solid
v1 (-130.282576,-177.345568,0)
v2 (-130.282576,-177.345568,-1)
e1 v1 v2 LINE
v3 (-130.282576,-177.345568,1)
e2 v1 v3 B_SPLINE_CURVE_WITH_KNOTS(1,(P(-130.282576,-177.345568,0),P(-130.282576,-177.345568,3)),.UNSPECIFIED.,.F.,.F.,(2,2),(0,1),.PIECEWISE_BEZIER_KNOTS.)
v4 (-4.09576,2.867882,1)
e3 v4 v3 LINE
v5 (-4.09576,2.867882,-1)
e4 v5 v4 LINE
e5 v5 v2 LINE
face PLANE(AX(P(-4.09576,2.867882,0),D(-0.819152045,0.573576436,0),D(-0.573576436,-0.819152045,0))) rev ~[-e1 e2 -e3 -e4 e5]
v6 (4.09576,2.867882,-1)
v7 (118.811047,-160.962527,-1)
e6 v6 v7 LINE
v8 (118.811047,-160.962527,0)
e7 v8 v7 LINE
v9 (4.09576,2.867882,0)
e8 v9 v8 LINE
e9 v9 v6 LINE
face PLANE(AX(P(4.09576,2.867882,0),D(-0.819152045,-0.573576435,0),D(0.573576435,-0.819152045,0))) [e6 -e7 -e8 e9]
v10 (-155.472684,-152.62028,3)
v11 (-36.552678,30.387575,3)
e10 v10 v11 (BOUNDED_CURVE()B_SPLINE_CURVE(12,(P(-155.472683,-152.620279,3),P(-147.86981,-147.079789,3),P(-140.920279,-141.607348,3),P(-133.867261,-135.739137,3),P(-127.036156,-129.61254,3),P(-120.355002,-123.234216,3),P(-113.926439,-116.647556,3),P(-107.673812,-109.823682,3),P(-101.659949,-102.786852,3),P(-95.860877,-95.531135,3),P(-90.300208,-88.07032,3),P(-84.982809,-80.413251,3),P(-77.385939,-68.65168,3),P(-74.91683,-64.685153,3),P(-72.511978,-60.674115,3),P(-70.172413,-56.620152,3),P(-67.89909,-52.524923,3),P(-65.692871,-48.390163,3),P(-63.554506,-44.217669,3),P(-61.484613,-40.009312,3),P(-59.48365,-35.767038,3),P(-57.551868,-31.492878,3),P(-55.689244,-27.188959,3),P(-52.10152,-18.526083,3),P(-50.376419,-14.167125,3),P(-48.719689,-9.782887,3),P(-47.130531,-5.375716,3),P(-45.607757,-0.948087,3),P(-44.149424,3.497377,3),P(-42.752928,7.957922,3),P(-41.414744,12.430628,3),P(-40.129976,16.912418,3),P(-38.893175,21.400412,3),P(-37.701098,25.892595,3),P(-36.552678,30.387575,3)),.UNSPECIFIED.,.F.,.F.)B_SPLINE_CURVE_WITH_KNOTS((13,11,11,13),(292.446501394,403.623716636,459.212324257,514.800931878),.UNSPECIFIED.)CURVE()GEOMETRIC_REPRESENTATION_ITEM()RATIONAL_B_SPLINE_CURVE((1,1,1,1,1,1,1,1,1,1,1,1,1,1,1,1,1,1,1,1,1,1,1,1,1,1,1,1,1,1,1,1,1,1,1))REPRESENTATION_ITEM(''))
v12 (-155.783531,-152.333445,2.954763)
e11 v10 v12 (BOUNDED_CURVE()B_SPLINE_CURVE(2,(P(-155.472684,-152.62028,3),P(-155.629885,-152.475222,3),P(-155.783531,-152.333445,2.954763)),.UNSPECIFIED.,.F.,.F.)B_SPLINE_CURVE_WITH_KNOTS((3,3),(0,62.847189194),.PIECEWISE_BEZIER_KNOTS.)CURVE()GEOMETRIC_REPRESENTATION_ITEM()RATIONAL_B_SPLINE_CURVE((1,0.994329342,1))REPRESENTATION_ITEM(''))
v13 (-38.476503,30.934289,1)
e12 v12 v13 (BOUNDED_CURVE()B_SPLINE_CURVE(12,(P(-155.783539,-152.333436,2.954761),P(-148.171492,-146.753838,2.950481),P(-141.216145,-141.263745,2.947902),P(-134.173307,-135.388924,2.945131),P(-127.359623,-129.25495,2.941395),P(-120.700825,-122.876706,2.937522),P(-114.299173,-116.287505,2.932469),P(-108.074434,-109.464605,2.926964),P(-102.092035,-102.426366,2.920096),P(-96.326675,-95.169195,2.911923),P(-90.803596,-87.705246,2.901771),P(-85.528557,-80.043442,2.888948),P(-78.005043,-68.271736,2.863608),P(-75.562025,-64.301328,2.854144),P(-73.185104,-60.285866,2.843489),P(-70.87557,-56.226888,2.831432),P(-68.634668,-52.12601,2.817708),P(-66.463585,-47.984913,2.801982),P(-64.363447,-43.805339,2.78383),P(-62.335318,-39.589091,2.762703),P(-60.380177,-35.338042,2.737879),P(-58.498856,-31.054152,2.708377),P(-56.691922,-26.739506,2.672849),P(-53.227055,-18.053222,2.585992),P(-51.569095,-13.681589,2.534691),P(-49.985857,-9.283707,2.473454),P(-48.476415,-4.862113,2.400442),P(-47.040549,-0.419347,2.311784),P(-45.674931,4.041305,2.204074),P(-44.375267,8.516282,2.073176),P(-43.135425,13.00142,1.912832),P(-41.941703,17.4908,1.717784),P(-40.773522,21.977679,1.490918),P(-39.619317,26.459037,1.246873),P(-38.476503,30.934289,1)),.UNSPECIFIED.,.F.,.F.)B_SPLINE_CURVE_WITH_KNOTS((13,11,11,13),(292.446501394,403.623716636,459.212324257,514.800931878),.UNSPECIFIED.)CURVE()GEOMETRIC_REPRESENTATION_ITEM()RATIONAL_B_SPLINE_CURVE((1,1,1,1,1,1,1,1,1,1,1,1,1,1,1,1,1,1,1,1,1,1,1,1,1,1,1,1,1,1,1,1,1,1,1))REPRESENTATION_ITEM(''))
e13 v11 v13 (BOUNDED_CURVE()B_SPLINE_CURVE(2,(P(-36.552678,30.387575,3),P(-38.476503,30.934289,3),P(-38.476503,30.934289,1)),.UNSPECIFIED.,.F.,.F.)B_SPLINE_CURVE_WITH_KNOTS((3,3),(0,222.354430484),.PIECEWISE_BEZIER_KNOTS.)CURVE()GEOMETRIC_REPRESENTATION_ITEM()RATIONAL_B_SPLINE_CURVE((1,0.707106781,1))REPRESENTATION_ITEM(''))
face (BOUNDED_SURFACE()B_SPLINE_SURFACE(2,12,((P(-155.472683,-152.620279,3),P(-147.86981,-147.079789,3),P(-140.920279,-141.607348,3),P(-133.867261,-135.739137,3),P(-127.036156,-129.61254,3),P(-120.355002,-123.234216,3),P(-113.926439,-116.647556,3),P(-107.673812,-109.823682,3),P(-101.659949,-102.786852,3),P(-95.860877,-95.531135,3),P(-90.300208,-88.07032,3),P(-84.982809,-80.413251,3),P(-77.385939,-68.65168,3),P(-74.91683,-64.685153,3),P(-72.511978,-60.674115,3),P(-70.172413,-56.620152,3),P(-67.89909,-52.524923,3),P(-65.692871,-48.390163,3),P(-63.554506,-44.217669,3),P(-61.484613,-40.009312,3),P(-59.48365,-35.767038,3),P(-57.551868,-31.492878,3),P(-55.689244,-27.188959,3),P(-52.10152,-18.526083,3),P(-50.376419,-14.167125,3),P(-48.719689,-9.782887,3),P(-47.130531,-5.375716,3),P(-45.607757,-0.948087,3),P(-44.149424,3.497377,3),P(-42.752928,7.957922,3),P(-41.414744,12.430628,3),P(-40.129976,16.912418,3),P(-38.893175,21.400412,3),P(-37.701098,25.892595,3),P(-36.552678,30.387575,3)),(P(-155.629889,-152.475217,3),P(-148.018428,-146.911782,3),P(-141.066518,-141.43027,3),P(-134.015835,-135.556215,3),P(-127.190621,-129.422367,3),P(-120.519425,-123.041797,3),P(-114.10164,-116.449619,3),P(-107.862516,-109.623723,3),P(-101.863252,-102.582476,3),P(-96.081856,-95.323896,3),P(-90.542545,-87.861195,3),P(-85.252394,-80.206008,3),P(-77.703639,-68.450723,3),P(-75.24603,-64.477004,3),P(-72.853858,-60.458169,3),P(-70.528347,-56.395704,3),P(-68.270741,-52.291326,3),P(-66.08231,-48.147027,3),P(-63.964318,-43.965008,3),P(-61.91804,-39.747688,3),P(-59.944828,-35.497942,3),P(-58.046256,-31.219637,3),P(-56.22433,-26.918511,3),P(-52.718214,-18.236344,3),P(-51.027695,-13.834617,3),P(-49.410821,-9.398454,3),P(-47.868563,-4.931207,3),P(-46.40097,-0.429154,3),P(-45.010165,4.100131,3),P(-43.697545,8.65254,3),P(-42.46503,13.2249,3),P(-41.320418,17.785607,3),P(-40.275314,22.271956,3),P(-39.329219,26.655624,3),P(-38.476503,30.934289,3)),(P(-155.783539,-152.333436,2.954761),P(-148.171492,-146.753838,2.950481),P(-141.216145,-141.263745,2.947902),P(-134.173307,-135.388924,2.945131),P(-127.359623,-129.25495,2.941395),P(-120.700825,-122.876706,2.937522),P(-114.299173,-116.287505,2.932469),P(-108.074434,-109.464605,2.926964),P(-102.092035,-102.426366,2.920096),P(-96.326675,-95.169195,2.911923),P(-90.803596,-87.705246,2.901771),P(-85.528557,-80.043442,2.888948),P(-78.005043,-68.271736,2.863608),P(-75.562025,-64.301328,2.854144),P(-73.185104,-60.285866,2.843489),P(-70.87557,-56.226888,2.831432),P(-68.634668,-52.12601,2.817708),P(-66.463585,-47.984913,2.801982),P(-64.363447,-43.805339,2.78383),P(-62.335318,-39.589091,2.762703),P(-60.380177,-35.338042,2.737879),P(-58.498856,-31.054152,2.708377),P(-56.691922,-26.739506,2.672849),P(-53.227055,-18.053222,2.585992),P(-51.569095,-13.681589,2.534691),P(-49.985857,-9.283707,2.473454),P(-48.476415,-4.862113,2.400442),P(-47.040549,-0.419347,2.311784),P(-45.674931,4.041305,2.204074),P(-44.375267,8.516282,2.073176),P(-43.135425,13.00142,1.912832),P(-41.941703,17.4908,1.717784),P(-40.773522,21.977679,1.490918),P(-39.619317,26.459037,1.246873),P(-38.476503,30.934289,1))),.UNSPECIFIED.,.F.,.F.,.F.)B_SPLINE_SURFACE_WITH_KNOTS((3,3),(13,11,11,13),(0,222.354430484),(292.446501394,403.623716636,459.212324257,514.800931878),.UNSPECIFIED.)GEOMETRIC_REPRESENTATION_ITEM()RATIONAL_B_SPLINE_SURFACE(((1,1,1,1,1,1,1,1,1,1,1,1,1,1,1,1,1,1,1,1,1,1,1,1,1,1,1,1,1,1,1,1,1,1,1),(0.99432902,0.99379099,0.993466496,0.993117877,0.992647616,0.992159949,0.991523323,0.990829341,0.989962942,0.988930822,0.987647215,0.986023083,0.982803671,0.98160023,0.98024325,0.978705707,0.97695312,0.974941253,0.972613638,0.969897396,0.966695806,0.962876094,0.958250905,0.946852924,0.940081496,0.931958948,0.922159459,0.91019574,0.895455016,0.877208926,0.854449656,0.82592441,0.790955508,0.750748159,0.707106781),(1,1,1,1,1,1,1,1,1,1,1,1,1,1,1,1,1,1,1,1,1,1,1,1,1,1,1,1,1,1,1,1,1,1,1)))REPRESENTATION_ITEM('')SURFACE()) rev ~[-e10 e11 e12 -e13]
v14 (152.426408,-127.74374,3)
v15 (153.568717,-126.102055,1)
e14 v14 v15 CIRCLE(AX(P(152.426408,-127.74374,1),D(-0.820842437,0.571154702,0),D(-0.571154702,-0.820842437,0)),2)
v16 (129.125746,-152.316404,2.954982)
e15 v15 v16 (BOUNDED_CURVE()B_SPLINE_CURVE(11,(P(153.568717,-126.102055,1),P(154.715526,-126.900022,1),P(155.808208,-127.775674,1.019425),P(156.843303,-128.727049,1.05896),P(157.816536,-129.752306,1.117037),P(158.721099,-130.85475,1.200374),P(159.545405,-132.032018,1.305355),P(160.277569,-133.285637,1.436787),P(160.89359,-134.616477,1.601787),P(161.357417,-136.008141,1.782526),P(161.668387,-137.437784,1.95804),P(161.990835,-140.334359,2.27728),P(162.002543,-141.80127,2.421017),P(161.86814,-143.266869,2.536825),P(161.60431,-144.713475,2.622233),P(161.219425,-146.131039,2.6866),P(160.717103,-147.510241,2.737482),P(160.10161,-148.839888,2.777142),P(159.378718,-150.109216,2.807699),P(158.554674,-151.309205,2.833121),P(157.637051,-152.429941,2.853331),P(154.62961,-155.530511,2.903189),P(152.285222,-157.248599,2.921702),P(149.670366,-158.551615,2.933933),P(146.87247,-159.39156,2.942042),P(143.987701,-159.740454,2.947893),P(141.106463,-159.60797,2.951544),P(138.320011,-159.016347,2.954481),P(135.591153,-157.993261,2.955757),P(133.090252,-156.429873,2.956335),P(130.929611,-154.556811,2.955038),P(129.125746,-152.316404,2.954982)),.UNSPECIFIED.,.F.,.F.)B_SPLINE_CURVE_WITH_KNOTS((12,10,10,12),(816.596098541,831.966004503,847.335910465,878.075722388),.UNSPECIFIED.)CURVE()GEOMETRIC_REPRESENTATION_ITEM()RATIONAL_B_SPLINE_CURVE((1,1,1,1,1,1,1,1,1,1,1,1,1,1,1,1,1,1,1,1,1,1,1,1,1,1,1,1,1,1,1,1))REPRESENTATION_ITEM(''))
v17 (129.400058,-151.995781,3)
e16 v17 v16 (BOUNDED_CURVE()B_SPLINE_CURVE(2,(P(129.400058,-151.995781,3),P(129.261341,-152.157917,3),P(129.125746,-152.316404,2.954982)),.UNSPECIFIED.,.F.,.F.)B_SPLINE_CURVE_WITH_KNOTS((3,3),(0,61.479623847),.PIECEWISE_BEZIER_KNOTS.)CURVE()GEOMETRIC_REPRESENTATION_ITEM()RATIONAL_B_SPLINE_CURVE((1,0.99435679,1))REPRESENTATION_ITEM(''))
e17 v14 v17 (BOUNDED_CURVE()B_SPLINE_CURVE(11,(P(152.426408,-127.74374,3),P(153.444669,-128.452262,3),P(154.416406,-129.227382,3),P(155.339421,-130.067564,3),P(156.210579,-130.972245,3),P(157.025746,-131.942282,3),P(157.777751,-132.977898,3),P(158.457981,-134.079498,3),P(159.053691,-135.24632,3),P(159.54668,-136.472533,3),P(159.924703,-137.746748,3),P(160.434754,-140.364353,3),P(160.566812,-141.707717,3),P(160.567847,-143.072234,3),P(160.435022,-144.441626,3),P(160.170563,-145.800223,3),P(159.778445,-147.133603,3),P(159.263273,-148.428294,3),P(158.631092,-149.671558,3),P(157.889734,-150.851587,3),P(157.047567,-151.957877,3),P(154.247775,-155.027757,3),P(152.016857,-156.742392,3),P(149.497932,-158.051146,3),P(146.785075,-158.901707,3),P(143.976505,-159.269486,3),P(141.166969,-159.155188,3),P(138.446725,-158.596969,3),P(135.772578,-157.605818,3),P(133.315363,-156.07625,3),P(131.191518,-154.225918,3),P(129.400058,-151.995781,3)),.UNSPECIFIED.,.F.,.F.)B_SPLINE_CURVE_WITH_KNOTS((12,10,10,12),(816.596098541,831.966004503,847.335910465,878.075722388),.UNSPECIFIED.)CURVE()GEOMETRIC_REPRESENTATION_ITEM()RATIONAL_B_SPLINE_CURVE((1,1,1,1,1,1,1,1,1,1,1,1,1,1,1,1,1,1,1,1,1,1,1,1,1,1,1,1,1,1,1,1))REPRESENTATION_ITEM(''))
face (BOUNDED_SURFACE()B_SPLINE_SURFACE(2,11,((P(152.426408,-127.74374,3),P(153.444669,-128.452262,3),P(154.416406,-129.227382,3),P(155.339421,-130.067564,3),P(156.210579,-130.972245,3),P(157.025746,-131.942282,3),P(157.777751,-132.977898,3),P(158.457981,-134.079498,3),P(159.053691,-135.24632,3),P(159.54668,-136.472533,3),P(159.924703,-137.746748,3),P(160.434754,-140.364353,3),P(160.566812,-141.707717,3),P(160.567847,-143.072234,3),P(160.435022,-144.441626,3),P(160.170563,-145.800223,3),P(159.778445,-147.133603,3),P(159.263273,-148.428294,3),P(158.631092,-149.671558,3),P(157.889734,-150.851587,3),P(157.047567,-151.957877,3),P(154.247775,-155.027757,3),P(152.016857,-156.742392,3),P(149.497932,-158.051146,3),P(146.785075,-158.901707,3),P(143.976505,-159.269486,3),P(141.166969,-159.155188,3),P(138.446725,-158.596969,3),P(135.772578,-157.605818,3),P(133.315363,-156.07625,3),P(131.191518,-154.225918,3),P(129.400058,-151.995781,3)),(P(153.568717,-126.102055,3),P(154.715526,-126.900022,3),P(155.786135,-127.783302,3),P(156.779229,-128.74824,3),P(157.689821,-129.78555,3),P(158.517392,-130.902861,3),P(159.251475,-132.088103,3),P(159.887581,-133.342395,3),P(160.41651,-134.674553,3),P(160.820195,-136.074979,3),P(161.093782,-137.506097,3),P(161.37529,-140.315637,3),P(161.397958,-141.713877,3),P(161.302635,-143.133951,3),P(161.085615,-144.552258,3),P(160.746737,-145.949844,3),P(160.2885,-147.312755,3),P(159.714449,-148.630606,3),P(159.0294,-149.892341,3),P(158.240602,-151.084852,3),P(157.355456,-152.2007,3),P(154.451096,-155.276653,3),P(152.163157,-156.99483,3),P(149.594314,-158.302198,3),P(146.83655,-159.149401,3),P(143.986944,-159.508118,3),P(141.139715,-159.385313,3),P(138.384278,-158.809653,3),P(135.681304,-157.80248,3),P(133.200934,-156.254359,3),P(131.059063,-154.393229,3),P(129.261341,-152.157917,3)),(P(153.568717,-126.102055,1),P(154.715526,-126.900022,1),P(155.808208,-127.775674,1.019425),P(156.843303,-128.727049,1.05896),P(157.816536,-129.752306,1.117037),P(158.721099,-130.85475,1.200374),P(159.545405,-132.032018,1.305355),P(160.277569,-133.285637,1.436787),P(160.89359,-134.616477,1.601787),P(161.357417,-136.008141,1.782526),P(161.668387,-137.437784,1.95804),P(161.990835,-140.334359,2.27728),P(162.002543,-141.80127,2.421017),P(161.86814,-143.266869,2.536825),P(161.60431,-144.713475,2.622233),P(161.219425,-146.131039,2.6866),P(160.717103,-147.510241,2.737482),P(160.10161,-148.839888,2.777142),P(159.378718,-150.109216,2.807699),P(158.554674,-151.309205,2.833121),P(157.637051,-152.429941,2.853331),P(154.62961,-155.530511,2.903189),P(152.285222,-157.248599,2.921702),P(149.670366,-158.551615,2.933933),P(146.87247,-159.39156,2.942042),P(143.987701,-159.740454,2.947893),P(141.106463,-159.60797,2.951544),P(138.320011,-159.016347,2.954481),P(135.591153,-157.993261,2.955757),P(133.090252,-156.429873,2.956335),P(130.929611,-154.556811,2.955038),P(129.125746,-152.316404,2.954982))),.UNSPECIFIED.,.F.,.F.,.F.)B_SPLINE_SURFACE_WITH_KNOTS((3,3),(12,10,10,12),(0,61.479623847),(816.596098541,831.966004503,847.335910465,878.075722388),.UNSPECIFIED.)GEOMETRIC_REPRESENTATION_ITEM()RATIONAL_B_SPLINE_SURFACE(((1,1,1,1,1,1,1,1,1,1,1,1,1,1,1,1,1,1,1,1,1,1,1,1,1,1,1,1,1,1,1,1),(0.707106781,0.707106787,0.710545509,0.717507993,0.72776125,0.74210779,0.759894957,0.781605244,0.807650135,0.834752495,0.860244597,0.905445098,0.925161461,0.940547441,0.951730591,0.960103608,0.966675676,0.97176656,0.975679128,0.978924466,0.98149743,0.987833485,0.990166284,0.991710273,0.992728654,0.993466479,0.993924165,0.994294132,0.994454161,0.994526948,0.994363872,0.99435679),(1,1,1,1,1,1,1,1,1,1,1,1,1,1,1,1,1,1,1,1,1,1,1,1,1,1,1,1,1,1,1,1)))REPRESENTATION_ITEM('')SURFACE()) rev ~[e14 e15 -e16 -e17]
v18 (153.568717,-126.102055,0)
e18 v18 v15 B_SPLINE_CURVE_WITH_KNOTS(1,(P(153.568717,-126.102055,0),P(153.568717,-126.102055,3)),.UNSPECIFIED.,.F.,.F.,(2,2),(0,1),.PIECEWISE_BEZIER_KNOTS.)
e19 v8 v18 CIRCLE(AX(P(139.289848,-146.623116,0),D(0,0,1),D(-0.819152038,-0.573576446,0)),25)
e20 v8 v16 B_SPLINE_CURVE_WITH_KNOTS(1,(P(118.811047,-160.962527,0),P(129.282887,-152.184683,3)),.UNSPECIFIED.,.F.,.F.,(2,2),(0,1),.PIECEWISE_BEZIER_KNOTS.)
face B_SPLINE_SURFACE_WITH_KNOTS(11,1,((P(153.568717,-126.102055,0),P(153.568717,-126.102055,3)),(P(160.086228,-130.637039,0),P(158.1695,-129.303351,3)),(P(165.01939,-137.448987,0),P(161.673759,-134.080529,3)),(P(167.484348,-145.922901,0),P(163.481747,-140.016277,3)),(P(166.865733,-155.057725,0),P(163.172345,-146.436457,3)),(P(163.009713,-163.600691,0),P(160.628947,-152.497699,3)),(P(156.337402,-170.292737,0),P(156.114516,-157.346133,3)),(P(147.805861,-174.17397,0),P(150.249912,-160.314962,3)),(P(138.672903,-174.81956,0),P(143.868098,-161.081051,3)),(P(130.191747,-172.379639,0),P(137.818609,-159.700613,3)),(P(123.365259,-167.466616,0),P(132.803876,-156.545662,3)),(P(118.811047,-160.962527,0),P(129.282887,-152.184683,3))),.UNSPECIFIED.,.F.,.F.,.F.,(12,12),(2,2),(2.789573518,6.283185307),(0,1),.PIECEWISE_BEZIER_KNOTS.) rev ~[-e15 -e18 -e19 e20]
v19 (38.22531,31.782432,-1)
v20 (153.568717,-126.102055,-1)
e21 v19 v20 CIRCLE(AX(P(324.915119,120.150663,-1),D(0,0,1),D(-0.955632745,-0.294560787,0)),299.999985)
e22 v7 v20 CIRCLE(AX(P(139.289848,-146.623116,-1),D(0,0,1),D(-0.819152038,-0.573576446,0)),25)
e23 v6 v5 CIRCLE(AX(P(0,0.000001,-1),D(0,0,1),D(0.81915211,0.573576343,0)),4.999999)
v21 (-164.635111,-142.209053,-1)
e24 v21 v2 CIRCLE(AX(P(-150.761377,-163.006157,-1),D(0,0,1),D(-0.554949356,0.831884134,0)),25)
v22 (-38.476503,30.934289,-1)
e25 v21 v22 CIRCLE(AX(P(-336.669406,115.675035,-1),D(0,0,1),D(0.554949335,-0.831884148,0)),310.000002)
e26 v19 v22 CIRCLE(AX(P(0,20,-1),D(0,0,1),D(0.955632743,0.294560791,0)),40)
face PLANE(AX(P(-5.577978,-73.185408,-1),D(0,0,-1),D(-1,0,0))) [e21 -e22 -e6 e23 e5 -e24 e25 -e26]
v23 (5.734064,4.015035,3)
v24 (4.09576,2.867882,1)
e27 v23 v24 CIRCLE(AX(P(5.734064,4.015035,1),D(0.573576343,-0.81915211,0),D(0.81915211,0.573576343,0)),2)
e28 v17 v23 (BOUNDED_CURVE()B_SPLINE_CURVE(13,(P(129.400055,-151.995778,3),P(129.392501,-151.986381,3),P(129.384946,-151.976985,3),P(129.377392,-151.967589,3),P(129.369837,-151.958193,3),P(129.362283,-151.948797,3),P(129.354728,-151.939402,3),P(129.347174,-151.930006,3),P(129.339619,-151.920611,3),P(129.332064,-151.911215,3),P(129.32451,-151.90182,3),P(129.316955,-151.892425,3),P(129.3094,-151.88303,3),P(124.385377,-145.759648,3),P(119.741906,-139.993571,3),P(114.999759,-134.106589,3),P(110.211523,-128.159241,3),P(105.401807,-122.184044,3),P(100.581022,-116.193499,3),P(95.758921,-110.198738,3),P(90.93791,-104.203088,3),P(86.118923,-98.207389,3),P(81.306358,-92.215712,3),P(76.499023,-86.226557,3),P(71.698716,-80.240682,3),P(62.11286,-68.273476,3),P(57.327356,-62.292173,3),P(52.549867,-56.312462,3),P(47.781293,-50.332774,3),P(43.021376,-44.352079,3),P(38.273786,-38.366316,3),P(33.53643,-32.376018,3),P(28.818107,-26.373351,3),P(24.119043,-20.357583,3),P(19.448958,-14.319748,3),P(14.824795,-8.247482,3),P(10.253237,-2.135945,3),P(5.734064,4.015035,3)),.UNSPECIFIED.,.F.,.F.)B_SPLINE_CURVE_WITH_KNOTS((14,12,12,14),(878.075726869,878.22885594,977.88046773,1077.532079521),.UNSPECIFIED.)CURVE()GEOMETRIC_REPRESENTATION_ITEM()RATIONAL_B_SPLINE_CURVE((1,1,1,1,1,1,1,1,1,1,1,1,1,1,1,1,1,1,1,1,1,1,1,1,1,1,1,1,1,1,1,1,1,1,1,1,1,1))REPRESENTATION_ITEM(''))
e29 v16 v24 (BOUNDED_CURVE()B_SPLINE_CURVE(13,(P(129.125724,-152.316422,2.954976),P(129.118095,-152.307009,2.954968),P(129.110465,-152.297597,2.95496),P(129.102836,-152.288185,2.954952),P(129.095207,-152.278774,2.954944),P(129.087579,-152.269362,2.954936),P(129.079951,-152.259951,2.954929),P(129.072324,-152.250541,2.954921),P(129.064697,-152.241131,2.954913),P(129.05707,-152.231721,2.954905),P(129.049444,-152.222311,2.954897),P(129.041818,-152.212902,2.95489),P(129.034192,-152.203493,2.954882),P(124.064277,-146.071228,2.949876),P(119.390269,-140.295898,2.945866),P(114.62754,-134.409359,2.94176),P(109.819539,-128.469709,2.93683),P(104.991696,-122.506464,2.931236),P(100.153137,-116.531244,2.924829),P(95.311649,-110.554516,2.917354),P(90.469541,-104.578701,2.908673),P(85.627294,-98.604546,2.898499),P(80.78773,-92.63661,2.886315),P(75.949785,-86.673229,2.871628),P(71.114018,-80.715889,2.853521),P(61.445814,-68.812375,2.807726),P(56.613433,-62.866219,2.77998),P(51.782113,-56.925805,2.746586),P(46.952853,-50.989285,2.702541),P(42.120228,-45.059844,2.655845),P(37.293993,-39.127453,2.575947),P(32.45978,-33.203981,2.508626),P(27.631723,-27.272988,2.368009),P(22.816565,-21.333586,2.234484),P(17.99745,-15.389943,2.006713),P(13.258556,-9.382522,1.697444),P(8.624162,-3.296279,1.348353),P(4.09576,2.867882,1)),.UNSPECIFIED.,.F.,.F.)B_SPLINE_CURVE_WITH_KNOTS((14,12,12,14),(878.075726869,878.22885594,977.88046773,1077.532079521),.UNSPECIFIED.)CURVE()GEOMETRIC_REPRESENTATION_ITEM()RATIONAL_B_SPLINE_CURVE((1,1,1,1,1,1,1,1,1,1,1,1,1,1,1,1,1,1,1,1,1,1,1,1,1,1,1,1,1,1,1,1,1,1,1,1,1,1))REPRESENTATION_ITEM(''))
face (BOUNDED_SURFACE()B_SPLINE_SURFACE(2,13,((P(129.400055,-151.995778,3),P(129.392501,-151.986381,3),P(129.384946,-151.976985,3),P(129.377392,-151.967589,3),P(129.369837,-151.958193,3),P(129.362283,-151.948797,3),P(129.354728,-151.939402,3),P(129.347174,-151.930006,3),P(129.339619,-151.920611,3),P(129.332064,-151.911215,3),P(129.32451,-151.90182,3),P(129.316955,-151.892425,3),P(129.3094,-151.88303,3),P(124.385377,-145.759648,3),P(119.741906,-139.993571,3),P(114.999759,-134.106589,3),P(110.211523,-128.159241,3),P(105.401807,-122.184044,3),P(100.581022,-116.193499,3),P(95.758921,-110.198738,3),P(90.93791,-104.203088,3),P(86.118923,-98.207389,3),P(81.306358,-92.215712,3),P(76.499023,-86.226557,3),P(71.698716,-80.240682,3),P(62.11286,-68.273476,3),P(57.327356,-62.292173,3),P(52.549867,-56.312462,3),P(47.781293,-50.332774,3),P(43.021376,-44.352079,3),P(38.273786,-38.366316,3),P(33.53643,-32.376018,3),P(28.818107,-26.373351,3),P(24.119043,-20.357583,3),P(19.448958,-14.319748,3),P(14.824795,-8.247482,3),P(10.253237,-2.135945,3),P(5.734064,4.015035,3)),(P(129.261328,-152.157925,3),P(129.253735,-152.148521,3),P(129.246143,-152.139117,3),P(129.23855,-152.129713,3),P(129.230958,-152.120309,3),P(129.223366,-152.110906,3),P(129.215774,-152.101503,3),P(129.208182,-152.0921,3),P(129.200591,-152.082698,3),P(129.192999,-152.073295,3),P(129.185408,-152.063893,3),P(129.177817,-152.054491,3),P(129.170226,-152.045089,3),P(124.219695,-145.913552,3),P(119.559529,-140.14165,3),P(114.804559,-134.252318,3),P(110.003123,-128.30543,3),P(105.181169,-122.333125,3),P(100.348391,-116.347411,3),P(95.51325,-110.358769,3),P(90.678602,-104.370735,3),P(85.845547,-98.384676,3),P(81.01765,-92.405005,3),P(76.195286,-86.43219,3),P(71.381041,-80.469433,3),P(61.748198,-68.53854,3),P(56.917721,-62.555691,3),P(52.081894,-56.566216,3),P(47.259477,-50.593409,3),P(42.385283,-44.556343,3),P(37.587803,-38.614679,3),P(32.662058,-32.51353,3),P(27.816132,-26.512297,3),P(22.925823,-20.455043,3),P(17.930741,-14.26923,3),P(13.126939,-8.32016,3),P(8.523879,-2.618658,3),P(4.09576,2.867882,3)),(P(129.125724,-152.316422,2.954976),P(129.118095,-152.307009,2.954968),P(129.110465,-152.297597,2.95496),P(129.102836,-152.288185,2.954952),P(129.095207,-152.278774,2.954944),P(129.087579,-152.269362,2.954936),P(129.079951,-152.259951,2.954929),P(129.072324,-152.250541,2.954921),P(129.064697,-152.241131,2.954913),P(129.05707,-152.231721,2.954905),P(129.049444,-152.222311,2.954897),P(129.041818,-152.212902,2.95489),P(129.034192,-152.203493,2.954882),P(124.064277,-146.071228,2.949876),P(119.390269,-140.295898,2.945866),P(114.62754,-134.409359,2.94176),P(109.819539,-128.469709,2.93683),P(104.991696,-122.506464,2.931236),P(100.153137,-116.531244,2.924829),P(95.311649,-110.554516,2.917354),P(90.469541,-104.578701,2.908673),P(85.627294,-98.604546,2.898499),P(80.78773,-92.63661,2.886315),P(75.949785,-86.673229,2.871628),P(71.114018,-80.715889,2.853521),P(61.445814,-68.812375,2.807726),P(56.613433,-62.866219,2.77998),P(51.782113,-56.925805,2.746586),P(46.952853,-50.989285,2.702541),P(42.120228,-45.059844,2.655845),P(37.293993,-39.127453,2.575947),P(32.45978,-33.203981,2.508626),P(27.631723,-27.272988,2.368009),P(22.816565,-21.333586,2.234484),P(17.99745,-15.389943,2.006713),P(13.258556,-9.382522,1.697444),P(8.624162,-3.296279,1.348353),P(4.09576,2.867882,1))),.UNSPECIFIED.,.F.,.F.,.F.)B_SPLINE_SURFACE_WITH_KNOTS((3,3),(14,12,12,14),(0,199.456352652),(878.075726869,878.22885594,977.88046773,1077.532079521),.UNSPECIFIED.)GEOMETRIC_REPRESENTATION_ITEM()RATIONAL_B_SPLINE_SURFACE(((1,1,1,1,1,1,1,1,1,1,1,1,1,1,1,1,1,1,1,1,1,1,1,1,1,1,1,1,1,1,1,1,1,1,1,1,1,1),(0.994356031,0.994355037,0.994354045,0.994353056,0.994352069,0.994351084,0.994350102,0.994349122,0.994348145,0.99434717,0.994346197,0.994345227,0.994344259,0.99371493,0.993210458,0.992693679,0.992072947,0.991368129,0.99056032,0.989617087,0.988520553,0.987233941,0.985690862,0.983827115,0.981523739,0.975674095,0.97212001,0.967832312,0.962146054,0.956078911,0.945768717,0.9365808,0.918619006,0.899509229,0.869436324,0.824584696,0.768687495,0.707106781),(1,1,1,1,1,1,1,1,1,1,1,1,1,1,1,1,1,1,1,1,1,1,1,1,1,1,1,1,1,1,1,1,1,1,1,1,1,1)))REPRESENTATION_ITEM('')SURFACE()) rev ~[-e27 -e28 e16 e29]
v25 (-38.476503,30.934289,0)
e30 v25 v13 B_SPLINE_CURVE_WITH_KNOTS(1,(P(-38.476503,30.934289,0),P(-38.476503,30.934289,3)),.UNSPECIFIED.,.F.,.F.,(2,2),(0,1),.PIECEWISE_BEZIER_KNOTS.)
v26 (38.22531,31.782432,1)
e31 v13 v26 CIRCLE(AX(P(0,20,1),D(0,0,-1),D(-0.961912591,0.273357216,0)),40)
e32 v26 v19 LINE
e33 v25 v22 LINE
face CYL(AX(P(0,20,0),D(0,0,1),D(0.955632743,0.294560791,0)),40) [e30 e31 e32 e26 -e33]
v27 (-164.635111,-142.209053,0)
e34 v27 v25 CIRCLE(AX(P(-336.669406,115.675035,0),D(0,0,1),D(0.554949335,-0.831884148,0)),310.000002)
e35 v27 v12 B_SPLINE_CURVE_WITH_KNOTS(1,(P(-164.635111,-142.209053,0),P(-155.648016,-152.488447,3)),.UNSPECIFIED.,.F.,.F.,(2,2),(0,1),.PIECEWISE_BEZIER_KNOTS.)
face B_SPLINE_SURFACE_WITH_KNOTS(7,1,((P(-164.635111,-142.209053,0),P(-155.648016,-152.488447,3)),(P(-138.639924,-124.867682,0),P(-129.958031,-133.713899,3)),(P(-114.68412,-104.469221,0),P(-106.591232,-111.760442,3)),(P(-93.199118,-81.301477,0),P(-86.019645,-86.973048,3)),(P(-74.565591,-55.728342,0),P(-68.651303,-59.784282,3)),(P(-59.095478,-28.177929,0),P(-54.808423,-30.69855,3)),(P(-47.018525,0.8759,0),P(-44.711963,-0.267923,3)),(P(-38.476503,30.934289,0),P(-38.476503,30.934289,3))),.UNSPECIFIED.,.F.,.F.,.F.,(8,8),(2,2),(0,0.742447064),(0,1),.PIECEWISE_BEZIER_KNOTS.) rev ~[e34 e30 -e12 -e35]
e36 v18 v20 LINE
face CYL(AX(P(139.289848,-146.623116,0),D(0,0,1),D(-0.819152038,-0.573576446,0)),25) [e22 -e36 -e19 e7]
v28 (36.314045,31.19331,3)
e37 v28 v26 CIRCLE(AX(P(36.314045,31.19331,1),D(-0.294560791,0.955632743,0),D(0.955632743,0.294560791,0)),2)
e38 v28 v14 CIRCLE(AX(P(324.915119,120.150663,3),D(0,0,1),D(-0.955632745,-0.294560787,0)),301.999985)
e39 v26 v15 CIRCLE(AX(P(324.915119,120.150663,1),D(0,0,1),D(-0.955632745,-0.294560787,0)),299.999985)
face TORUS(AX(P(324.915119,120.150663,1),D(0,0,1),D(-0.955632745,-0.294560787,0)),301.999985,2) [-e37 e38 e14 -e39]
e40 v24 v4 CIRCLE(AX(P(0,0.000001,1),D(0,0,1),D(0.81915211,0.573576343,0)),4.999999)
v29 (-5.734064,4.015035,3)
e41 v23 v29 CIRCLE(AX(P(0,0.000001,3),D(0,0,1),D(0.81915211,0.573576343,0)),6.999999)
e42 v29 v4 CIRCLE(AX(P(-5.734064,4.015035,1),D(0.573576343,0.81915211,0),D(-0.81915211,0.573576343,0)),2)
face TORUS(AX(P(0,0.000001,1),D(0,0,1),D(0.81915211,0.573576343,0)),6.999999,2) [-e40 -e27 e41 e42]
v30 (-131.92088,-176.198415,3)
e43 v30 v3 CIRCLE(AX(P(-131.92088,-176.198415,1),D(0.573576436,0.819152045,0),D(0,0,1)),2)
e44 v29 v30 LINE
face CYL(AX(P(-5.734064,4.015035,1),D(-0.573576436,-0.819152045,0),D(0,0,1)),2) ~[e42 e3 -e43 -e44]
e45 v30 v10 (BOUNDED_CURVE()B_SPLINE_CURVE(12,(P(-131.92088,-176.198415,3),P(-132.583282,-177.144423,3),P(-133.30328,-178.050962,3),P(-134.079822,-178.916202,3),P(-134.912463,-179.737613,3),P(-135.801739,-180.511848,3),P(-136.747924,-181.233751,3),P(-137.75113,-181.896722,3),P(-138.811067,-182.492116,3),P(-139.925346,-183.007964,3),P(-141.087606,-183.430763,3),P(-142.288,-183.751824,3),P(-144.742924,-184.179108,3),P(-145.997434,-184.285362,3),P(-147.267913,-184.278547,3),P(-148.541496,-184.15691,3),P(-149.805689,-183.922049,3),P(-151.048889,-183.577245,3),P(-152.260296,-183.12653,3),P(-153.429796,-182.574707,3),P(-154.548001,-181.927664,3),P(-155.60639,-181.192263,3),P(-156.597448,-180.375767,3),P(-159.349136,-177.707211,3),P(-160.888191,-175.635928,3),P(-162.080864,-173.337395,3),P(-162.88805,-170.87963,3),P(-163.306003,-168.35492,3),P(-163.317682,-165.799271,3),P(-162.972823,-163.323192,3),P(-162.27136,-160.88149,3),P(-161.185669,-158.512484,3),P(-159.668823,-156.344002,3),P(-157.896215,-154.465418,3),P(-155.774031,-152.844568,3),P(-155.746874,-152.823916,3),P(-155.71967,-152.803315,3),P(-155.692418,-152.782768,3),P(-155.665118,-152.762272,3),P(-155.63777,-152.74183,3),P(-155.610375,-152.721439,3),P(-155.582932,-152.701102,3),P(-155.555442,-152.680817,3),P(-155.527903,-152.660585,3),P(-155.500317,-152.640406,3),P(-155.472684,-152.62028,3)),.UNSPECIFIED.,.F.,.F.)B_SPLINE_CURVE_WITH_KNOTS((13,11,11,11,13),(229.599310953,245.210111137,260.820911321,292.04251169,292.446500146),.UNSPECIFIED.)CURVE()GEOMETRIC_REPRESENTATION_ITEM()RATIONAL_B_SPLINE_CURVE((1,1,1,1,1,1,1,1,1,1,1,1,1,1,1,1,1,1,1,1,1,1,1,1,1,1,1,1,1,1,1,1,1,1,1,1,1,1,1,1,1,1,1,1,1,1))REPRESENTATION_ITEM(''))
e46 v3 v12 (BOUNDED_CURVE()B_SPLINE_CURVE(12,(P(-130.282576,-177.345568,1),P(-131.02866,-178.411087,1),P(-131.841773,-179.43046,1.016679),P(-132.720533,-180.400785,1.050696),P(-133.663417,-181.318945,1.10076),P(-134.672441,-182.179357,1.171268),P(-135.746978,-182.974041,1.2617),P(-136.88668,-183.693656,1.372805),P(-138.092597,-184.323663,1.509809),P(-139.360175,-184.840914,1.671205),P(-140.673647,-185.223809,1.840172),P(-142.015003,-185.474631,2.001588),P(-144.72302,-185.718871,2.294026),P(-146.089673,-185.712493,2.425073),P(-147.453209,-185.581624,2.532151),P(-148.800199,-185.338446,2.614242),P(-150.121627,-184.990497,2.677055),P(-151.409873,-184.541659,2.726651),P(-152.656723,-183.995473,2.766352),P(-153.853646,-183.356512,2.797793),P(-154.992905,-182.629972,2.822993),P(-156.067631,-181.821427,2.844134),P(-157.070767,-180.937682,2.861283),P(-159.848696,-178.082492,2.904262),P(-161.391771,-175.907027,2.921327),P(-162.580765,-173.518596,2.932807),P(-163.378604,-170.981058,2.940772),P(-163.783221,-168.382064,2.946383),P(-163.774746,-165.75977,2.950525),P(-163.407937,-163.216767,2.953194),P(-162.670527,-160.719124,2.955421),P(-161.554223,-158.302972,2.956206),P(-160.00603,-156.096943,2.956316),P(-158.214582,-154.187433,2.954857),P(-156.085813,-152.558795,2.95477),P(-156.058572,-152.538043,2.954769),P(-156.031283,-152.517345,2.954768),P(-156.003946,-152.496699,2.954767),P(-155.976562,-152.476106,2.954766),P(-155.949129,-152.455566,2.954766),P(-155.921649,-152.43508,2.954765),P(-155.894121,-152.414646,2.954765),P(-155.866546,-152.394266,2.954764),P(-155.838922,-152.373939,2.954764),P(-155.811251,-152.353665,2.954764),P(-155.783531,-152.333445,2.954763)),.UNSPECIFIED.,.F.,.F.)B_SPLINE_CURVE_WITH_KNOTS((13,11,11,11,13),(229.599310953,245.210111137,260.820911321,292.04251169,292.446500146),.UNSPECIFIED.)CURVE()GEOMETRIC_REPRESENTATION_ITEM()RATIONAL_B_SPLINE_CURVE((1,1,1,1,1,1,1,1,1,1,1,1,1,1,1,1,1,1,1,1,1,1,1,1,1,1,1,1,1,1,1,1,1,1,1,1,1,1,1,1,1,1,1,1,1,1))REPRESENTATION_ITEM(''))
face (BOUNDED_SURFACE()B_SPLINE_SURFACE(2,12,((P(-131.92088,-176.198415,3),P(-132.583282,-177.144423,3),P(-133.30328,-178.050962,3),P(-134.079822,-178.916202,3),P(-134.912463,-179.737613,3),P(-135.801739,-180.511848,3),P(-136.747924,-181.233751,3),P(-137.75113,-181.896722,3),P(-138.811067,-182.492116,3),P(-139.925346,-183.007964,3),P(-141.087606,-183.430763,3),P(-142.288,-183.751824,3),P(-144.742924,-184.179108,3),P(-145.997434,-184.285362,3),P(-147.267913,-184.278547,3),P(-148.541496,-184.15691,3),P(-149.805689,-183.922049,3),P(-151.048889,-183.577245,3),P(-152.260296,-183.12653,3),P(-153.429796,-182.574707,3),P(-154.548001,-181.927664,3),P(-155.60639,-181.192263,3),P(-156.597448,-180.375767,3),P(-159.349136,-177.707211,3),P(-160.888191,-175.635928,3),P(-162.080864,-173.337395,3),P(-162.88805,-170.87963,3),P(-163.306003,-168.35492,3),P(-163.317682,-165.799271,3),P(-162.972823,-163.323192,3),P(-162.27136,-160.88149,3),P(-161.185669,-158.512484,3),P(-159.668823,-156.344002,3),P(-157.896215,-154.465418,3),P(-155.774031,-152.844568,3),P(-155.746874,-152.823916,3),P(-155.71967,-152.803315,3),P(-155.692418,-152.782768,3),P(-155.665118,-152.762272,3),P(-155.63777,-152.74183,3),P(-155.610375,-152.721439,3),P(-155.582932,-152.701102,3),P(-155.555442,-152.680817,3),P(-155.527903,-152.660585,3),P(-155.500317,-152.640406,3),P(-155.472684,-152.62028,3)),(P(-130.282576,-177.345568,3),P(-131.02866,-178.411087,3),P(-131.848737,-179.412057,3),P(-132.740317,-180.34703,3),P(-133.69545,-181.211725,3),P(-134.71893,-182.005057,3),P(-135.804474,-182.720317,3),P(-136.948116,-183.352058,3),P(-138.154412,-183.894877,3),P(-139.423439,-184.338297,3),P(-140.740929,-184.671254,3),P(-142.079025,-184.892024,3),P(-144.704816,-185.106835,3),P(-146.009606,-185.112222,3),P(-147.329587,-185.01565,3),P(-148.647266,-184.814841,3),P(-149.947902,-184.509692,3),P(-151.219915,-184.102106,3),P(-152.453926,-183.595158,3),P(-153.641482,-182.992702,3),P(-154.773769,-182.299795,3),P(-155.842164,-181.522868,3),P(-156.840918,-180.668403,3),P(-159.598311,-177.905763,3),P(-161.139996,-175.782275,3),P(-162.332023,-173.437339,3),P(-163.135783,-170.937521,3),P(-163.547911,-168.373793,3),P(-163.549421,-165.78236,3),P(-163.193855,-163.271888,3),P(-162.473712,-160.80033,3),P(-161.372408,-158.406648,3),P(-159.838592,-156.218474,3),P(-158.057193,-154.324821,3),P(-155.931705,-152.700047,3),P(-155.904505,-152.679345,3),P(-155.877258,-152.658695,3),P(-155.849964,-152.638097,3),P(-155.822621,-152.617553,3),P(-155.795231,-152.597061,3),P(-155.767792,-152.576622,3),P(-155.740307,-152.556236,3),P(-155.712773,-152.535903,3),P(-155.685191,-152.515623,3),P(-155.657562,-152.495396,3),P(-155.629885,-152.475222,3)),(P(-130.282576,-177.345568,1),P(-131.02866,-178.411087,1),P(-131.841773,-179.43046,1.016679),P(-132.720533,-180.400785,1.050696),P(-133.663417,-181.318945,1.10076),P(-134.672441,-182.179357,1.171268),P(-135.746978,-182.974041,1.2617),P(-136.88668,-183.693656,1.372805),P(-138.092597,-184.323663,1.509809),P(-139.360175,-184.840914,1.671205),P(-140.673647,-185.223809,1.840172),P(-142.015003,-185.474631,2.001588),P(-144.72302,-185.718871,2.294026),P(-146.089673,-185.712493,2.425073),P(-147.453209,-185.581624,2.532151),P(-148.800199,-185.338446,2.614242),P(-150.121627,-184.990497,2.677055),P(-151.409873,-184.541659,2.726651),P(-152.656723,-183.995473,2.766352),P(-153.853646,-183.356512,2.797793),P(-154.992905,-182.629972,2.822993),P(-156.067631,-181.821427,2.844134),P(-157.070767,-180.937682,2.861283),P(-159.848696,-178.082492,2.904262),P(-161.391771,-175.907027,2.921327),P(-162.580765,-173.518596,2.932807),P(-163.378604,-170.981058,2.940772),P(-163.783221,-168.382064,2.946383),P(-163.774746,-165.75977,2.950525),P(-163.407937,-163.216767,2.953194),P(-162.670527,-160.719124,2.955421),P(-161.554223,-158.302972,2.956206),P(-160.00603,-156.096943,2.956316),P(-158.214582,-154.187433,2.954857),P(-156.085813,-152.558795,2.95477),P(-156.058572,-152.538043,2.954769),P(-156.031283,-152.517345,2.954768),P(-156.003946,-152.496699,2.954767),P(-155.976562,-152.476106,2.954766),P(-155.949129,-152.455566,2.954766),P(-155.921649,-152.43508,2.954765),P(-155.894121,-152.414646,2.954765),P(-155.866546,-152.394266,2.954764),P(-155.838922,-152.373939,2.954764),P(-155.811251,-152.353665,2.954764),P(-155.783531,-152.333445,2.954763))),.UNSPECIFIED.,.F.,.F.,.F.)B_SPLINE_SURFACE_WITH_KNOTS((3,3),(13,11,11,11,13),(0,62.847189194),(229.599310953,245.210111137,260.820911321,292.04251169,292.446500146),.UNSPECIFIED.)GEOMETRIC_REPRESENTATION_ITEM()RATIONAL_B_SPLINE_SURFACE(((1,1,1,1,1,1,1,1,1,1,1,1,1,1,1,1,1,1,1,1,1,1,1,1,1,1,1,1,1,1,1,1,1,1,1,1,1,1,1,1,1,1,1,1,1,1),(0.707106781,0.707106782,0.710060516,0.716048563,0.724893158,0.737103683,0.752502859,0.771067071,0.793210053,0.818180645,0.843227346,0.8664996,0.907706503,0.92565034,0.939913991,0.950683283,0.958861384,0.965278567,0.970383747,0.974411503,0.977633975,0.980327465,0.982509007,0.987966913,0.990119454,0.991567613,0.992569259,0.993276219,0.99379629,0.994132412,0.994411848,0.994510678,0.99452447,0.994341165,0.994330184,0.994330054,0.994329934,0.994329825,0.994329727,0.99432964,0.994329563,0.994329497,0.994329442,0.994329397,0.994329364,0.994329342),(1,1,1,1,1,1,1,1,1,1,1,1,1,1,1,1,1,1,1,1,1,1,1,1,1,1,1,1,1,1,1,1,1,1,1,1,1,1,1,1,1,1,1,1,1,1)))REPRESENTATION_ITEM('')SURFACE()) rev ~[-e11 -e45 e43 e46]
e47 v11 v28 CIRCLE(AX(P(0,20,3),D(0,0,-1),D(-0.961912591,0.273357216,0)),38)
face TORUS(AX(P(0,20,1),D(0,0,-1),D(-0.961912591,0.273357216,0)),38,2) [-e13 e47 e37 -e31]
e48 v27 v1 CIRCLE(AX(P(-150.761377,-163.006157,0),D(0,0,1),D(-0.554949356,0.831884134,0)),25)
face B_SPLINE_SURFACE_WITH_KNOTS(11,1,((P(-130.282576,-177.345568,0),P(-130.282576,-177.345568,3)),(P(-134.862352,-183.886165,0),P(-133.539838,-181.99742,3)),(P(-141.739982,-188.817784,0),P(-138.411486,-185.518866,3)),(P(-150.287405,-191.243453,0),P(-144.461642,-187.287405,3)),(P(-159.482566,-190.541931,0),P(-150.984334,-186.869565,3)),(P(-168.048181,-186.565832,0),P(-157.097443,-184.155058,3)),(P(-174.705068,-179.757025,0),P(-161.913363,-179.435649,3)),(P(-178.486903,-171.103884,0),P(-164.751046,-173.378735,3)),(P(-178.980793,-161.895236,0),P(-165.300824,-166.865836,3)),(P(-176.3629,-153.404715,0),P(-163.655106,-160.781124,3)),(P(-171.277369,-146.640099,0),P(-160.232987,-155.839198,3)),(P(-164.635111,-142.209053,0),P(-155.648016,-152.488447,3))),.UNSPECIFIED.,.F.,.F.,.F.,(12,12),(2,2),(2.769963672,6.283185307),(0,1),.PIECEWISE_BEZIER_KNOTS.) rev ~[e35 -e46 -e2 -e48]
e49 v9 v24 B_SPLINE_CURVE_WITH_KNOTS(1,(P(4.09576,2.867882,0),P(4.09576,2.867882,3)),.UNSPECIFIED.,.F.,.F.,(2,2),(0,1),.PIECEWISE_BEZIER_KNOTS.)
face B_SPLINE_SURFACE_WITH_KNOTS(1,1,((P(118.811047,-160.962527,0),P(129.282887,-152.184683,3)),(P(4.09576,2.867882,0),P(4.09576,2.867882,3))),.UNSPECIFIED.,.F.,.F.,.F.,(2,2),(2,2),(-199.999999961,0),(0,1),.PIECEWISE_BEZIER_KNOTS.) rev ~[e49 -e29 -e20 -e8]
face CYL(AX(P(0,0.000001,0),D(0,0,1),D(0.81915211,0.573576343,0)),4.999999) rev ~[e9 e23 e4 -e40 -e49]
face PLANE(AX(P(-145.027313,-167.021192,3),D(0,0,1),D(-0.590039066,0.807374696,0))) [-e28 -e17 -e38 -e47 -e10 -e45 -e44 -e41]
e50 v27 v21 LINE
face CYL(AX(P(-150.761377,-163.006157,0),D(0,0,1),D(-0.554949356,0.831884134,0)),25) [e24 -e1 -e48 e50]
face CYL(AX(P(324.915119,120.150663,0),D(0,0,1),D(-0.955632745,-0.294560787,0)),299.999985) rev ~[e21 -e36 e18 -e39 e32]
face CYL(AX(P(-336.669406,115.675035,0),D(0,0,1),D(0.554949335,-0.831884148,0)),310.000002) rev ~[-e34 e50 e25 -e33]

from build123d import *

# Parameters (mm, degrees)
PAD_DEPTH = 1
FILLET_R  = 2


with BuildPart() as part:
    # Sketch → Loft section 0
    with BuildSketch(Plane.XY):
        with BuildLine():
            Line((-4.09576, 2.867882), (-130.282576, -177.345568))
            ThreePointArc((-164.635111, -142.209053), (-168.63735, -180.483273), (-130.282576, -177.345568))
            ThreePointArc((-164.635111, -142.209053), (-86.123884, -66.881649), (-38.476503, 30.934289))
            ThreePointArc((38.22531, 31.782432), (-0.442279, 59.997555), (-38.476503, 30.934289))
            ThreePointArc((38.22531, 31.782432), (82.673152, -56.820578), (153.568717, -126.102055))
            ThreePointArc((118.811047, -160.962527), (156.993603, -164.274662), (153.568717, -126.102055))
            Line((4.09576, 2.867882), (118.811047, -160.962527))
            ThreePointArc((4.09576, 2.867882), (0, 5), (-4.09576, 2.867882))
        make_face()
    # Sketch001 → Loft section 1
    with BuildSketch(Plane.XY.offset(3)):
        with BuildLine():
            Line((-4.09576, 2.867882), (-130.282576, -177.345568))
            ThreePointArc((-155.648016, -152.488447), (-157.625766, -179.877279), (-130.282576, -177.345568))
            ThreePointArc((-155.648016, -152.488447), (-79.841331, -71.777908), (-38.476503, 30.934289))
            ThreePointArc((38.22531, 31.782432), (-0.442279, 59.997555), (-38.476503, 30.934289))
            ThreePointArc((38.22531, 31.782432), (82.673152, -56.820578), (153.568717, -126.102055))
            ThreePointArc((129.282887, -152.184683), (156.461518, -153.143294), (153.568717, -126.102055))
            Line((4.09576, 2.867882), (129.282887, -152.184683))
            ThreePointArc((4.09576, 2.867882), (0, 5), (-4.09576, 2.867882))
        make_face()
    loft()

    # Sketch → Pad (new body)
    with BuildSketch(Plane.XY):
        with BuildLine():
            Line((-4.09576, 2.867882), (-130.282576, -177.345568))
            ThreePointArc((-164.635111, -142.209053), (-168.63735, -180.483273), (-130.282576, -177.345568))
            ThreePointArc((-164.635111, -142.209053), (-86.123884, -66.881649), (-38.476503, 30.934289))
            ThreePointArc((38.22531, 31.782432), (-0.442279, 59.997555), (-38.476503, 30.934289))
            ThreePointArc((38.22531, 31.782432), (82.673152, -56.820578), (153.568717, -126.102055))
            ThreePointArc((118.811047, -160.962527), (156.993603, -164.274662), (153.568717, -126.102055))
            Line((4.09576, 2.867882), (118.811047, -160.962527))
            ThreePointArc((4.09576, 2.867882), (0, 5), (-4.09576, 2.867882))
        make_face()
    extrude(amount=-PAD_DEPTH)

    # Fillet
    fillet_edges = [part.edges().sort_by_distance(p)[0] for p in [
        (0, 5, 3),
        (-67.189168, -87.238843, 3),
        (-157.625766, -179.877279, 3),
        (-79.841331, -71.777908, 3),
        (-0.442279, 59.997555, 3),
        (82.673152, -56.820578, 3),
        (156.461518, -153.143294, 3),
        (66.689324, -74.6584, 3),
    ]]
    fillet(fillet_edges, radius=FILLET_R)


solid = part.part
